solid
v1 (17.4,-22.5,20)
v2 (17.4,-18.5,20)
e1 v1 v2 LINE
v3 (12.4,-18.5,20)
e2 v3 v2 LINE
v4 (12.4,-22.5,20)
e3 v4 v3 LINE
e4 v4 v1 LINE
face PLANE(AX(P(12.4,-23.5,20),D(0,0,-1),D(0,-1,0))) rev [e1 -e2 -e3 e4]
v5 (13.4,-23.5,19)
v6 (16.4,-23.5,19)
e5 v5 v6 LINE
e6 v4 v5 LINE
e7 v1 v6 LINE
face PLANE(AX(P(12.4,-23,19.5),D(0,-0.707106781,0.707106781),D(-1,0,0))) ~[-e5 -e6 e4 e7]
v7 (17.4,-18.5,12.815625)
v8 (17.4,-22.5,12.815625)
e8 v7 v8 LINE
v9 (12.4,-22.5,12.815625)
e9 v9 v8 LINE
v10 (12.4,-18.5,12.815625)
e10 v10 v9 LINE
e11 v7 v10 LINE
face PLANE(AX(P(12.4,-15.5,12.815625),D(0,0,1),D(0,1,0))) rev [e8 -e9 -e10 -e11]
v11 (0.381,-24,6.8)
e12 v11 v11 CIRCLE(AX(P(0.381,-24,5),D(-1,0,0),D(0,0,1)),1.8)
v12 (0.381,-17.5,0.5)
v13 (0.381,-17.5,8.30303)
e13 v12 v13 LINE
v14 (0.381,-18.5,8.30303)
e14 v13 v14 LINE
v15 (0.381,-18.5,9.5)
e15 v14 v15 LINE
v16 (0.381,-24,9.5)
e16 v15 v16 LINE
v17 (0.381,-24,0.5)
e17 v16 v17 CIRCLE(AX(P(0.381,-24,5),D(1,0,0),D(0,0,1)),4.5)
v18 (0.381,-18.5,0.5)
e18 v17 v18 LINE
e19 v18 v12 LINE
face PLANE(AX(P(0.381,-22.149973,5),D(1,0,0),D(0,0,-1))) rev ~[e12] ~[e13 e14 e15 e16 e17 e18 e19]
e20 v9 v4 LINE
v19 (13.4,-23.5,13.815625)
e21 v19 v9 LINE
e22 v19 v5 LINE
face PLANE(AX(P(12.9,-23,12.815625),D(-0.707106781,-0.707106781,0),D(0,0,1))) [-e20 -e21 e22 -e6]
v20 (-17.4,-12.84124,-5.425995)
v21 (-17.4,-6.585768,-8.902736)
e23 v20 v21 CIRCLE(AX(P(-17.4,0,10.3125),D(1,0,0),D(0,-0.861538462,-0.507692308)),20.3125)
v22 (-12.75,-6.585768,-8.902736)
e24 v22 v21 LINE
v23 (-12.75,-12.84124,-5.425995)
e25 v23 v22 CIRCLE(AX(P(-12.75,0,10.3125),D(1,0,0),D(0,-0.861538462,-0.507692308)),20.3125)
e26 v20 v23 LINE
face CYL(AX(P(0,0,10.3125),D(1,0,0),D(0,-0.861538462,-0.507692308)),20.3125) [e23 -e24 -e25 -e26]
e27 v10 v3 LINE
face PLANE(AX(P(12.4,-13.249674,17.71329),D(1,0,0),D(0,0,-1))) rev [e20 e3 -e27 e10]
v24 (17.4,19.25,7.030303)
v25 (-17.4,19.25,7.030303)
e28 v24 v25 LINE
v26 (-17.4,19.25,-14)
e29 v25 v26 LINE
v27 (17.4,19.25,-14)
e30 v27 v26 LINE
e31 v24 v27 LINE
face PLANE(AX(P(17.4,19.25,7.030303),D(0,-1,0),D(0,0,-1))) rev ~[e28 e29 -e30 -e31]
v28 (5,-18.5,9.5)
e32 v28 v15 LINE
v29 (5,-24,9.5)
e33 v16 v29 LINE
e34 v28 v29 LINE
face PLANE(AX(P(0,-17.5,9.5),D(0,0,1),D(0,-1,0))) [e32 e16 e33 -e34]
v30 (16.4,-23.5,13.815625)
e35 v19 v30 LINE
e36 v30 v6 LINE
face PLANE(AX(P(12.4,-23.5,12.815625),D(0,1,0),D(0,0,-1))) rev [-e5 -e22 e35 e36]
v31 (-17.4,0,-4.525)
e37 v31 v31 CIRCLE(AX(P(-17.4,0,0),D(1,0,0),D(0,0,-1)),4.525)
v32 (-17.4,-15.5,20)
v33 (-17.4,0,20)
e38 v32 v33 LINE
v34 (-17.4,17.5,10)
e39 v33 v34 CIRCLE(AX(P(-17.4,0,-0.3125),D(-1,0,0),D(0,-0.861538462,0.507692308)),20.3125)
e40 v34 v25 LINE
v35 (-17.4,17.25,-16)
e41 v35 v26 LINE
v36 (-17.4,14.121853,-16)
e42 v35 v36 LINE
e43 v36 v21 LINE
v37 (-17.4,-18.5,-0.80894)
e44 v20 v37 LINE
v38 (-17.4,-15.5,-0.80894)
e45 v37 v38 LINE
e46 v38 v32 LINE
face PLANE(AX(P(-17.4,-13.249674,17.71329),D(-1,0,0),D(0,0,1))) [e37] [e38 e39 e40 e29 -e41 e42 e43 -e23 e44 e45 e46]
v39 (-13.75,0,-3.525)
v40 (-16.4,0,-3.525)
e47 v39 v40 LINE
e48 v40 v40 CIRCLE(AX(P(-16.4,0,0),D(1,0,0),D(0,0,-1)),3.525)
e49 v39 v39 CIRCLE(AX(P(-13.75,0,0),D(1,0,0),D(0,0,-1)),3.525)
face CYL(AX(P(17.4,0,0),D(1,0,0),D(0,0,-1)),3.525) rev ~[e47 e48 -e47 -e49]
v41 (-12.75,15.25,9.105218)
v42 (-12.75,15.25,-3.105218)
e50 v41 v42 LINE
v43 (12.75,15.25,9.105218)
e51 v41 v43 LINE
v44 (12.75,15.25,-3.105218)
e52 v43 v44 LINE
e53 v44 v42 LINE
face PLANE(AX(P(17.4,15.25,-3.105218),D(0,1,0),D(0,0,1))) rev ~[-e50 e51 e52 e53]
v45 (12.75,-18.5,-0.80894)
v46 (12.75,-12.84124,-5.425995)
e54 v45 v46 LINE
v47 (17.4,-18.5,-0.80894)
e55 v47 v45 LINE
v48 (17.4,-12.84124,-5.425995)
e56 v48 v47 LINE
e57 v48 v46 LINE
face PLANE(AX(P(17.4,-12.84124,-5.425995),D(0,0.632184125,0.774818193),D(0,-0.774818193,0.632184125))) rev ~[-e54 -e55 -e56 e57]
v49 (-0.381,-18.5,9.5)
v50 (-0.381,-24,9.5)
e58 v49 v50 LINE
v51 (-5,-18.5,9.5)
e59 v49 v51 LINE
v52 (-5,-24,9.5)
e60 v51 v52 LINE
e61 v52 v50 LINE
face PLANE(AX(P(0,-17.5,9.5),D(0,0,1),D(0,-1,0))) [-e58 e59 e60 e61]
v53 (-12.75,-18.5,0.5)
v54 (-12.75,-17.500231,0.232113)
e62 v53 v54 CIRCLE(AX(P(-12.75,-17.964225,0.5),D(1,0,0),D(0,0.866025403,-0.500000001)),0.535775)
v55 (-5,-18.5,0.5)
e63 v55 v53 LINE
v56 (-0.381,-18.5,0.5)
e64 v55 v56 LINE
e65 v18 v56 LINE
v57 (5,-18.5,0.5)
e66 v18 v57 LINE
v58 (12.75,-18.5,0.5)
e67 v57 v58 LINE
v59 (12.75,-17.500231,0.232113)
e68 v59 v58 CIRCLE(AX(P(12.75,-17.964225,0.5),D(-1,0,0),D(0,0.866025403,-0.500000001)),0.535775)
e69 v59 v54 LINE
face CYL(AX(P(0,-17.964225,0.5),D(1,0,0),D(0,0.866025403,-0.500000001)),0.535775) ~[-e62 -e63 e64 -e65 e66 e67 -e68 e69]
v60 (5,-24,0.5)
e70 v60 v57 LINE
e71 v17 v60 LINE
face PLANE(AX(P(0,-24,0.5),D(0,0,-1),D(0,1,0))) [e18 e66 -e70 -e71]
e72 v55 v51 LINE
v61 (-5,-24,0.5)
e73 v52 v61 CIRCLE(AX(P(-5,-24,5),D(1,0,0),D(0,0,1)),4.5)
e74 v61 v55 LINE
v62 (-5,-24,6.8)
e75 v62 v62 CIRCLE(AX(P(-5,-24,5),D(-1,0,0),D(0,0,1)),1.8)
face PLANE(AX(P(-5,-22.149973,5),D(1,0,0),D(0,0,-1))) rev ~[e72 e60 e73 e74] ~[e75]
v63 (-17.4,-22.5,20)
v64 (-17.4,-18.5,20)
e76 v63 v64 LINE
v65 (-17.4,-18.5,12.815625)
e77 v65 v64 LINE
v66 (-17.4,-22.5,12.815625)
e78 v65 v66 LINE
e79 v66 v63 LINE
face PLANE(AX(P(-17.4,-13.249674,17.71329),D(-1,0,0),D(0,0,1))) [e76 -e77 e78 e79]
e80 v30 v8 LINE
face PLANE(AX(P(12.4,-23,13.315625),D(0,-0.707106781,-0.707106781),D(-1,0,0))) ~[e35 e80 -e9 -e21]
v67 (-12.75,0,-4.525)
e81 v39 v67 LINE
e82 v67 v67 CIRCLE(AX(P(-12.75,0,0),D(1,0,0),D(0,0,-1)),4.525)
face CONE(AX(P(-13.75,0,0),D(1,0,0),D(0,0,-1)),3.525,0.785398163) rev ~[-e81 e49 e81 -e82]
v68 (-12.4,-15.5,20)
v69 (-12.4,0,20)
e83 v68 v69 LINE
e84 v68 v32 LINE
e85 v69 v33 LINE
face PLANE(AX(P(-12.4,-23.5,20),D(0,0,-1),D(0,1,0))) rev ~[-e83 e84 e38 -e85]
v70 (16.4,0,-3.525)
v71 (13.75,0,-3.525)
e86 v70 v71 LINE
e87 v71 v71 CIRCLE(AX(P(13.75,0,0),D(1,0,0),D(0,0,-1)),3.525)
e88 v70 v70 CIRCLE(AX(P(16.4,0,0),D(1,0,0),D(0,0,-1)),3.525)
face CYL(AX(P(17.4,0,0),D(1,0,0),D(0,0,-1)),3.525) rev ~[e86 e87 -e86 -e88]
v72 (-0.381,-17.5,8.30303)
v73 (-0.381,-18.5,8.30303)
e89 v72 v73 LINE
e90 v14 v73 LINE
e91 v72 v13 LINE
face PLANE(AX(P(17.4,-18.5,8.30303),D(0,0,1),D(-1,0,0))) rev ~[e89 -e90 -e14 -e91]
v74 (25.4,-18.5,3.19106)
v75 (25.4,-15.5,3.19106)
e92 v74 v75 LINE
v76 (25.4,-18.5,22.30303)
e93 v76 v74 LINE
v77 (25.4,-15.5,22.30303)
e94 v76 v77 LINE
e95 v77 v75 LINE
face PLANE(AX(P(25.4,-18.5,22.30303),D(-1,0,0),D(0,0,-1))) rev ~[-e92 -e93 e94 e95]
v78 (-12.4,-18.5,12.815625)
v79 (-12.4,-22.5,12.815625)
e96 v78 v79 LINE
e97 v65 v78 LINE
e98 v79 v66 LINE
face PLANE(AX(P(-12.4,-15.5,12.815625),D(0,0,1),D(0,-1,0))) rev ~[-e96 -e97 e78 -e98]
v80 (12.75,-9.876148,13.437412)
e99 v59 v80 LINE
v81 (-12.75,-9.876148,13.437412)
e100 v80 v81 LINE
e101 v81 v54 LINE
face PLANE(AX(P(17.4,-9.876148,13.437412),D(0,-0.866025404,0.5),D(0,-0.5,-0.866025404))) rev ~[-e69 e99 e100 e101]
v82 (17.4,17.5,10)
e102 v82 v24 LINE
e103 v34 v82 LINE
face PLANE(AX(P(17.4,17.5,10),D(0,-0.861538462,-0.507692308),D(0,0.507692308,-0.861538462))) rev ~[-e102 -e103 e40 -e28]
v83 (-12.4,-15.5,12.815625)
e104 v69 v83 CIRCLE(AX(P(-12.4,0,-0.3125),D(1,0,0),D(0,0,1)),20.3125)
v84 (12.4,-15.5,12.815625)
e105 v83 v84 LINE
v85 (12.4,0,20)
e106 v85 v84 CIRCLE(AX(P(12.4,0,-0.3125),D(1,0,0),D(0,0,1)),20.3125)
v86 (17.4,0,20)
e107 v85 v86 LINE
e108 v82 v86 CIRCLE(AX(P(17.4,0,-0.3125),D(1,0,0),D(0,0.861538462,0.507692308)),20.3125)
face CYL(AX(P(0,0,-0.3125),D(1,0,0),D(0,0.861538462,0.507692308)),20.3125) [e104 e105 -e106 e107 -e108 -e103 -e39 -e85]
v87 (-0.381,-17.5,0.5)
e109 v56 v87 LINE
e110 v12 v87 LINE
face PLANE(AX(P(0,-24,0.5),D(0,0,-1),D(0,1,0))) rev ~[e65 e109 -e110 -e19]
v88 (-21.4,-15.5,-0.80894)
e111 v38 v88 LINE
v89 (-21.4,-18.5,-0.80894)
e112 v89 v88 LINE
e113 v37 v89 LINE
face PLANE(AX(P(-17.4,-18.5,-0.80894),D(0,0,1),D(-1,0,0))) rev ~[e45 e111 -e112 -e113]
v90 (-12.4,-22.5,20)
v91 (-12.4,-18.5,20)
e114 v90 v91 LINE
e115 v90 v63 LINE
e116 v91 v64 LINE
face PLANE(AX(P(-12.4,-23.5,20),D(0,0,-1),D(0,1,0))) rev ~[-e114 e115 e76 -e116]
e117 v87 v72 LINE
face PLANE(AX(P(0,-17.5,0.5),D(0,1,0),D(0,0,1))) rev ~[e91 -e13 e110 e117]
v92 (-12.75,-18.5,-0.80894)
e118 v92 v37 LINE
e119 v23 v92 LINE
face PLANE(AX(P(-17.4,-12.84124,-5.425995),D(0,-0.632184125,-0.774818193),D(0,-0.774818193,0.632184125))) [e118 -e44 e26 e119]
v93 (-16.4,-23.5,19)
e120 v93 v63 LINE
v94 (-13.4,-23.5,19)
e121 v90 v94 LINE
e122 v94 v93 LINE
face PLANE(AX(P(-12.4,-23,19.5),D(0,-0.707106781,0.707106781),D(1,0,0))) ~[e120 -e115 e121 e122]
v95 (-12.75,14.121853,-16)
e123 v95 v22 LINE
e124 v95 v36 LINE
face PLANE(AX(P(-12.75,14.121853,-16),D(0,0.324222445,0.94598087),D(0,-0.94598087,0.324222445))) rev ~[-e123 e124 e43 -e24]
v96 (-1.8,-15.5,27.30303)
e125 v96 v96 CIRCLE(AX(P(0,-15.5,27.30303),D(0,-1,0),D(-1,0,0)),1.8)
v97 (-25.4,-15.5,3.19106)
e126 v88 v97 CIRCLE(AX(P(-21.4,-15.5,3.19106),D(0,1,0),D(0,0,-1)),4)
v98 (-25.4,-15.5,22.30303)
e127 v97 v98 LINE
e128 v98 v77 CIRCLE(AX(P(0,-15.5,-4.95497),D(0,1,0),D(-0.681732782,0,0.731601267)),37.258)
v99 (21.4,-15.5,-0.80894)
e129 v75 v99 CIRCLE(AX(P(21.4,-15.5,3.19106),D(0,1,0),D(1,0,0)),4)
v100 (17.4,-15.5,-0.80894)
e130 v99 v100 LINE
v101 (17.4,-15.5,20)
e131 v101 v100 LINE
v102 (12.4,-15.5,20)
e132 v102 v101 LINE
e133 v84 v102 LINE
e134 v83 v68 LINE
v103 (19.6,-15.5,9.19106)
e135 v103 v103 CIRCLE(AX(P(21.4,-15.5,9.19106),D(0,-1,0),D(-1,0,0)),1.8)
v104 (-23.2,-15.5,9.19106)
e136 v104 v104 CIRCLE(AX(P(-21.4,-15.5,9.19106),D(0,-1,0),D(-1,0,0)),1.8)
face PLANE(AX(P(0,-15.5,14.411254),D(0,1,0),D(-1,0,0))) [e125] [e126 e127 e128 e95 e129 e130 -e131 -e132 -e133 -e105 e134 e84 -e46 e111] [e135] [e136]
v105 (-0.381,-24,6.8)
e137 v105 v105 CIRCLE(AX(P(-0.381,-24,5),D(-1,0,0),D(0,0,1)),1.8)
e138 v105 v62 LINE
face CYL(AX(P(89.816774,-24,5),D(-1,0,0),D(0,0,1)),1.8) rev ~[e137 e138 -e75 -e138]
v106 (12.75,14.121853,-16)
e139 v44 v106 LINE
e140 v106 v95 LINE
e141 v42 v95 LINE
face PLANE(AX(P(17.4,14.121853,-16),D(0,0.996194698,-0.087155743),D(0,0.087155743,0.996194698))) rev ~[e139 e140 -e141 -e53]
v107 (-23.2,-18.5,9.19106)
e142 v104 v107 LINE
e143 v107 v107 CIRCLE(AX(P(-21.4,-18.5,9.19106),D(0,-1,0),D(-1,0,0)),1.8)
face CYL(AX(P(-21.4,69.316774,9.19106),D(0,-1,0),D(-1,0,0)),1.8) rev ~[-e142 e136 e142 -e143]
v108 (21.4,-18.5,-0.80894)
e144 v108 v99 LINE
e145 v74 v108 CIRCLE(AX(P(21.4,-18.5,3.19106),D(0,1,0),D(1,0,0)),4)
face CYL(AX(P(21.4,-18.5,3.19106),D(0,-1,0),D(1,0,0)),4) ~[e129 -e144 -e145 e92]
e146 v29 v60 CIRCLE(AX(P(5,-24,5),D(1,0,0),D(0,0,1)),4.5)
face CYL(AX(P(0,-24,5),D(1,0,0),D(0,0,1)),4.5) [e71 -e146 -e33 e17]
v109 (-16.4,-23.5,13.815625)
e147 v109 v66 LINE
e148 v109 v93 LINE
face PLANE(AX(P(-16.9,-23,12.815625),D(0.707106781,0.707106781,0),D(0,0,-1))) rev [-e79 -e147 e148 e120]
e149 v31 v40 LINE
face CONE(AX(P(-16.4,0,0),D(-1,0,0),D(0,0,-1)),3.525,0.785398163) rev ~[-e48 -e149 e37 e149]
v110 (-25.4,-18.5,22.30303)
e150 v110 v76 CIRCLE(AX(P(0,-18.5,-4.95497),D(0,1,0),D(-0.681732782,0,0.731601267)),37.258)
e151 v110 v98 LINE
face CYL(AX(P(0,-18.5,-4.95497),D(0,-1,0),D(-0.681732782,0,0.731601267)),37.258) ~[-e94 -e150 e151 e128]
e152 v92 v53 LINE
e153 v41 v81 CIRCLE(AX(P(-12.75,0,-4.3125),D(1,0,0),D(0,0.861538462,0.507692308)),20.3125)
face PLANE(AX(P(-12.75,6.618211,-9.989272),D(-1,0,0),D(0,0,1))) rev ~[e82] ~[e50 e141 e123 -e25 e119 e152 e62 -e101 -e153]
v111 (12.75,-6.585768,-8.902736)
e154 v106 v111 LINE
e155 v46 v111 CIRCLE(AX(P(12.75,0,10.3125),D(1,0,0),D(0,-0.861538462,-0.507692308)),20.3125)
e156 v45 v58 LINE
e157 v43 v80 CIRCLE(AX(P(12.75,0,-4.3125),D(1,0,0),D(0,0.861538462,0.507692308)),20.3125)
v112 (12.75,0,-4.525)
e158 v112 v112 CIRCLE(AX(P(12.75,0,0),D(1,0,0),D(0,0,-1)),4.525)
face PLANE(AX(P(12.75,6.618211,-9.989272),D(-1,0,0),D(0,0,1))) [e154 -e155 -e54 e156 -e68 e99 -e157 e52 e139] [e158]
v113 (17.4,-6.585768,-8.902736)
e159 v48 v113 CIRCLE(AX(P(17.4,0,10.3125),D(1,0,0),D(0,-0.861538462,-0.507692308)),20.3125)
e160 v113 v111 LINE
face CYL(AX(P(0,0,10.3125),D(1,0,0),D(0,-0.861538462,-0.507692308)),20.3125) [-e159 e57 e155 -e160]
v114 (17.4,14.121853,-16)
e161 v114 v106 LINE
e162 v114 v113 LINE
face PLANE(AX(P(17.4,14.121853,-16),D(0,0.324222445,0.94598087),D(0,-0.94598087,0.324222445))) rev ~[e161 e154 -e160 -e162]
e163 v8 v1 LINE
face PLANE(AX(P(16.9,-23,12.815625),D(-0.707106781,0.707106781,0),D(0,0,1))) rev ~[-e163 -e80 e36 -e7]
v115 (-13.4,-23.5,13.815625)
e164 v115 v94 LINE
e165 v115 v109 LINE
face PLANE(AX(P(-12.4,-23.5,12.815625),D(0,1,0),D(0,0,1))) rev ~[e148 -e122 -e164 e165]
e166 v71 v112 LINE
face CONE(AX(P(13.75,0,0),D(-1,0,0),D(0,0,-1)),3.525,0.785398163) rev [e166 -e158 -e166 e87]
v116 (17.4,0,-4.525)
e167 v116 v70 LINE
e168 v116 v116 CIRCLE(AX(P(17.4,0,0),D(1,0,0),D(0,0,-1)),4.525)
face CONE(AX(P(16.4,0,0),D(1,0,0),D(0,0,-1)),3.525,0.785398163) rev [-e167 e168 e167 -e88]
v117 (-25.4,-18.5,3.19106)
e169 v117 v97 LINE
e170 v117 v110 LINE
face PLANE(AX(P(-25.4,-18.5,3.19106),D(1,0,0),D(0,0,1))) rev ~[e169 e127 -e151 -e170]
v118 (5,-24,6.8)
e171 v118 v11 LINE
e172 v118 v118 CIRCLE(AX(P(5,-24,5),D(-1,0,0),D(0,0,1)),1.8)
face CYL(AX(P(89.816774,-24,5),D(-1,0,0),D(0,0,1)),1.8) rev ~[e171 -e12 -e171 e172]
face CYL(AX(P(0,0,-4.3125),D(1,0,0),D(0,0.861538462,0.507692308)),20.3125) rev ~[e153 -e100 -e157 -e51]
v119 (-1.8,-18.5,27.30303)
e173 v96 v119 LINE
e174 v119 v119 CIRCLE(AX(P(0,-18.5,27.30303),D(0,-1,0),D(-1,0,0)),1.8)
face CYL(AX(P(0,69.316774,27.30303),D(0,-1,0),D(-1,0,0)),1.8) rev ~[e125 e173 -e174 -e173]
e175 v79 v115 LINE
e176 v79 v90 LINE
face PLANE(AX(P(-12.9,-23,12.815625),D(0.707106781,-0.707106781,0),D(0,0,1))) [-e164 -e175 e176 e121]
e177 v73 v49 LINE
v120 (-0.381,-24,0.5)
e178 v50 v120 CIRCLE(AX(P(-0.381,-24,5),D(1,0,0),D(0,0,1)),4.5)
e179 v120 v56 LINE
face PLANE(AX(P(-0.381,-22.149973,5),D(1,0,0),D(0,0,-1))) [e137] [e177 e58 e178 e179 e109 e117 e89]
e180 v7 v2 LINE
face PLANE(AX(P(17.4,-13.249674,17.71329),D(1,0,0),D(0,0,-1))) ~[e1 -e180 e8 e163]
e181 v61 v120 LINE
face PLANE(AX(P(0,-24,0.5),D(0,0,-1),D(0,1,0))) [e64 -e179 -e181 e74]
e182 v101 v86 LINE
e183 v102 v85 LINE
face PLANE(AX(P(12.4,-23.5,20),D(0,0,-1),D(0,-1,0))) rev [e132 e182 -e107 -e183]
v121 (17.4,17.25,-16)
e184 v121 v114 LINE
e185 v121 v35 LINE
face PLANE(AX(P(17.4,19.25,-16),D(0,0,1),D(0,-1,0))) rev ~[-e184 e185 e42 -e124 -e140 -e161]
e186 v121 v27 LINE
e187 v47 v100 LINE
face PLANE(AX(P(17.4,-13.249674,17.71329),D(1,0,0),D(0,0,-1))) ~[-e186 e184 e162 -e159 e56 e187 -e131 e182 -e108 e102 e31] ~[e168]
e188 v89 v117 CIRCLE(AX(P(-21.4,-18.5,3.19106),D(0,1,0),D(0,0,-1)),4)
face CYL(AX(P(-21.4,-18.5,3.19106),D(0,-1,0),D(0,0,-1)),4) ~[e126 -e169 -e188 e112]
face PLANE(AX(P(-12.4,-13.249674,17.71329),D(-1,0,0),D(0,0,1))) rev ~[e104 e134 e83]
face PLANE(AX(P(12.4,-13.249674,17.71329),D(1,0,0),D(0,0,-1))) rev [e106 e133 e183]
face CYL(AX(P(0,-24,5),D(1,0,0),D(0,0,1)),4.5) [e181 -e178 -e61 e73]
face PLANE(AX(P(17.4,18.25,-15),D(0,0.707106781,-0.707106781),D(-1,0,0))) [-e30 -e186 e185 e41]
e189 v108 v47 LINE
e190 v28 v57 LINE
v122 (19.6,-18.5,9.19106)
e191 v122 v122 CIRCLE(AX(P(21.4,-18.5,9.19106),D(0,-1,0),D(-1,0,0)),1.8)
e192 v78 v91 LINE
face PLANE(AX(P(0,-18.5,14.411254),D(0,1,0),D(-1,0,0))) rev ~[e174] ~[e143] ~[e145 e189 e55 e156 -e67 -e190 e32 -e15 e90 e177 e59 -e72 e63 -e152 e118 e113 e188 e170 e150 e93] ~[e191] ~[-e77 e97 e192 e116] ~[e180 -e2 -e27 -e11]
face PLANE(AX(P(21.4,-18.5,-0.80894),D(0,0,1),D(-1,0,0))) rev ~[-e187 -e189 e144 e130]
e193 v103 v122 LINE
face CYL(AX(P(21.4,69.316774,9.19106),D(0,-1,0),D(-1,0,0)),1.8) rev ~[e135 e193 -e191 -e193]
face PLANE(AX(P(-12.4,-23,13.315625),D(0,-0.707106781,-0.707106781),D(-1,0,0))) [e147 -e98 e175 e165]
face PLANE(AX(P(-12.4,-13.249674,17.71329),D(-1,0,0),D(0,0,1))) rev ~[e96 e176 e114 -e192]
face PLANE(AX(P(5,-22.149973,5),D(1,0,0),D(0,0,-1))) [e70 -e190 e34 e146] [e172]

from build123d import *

# Parameters (mm, degrees)
BOSS_EXTRUDE1_DEPTH            = 17.4
CUT_EXTRUDE1_DEPTH             = 12.75
BOSS_EXTRUDE2_DEPTH            = 5
BOSS_EXTRUDE3_REACH            = 51.227
BOSS_EXTRUDE4_DEPTH            = 4.65
BOSS_EXTRUDE5_DEPTH            = 4.65
BOSS_EXTRUDE6_REACH            = 51.227
BOSS_EXTRUDE7_DEPTH            = 4.65
BOSS_EXTRUDE8_START            = -4.65
BOSS_EXTRUDE8_DEPTH            = 4.65
CHAMFER2_SIZE                  = 2
SKETCH10_R                     = 3.525
CUT_EXTRUDE2_DEPTH             = 50.226923528
CUT_EXTRUDE3_DEPTH             = 0.381
BOSS_EXTRUDE9_DEPTH            = 3
BOSS_EXTRUDE10_START           = -5
BOSS_EXTRUDE10_DEPTH           = 5
M3_CLEARANCE_HOLE1_D           = 3.6
M3_CLEARANCE_HOLE2_D           = 3.6
CHAMFER5_SIZE                  = 1
CUT_EXTRUDE4_REACH             = 52.009
CUT_EXTRUDE4_DIRECTION_2_REACH = 52.009
CHAMFER6_SIZE                  = 1


with BuildPart() as part:
    # Sketch1 → Boss-Extrude1 (new, symmetric)
    with BuildSketch(Plane(origin=(0, 0, 0), x_dir=(0, 0, -1), z_dir=(1, 0, 0))):
        with BuildLine():
            Line((0, 17.5), (-10, 17.5))
            ThreePointArc((-10, 17.5), (-20, 0), (-10, -17.5))
            Line((-10, -17.5), (0, -17.5))
            ThreePointArc((0, -17.5), (10, 0), (0, 17.5))
        make_face()
    extrude(amount=BOSS_EXTRUDE1_DEPTH, both=True)

    # Sketch2 → Cut-Extrude1 (cut, symmetric)
    with BuildSketch(Plane(origin=(0, 0, 0), x_dir=(0, 0, -1), z_dir=(1, 0, 0))):
        with BuildLine():
            Line((-6, -17.5), (0, -17.5))
            ThreePointArc((0, -17.5), (10, 0), (0, 17.5))
            Line((0, 17.5), (-6, 17.5))
            ThreePointArc((-6, 17.5), (-16, 0), (-6, -17.5))
        make_face()
    extrude(amount=CUT_EXTRUDE1_DEPTH, both=True, mode=Mode.SUBTRACT)

    # Sketch3 → Boss-Extrude2 (add, symmetric)
    with BuildSketch(Plane(origin=(0, 0, 0), x_dir=(0, 0, -1), z_dir=(1, 0, 0))):
        with BuildLine():
            Line((-9.5, -17.5), (-9.5, -24))
            ThreePointArc((-9.5, -24), (-5, -28.5), (-0.5, -24))
            Line((-0.5, -24), (-0.5, -17.5))
            Line((-0.5, -17.5), (-9.5, -17.5))
        make_face()
    extrude(amount=BOSS_EXTRUDE2_DEPTH, both=True)

    # Boss-Extrude3: up to this face of the body (flat: up to its plane)
    boss_extrude3_end = Plane(part.part.faces().sort_by_distance((-17.4, 0, 5))[0])
    # Sketch4 → Boss-Extrude3 (add, up to the picked face)
    with BuildSketch(Plane(origin=(17.4, 0, 0), x_dir=(0, 0, -1), z_dir=(1, 0, 0)), mode=Mode.PRIVATE) as boss_extrude3_sk1:
        with BuildLine():
            Line((-13.437411512, -9.876147912), (0.981589269, -18.200961894))
            Line((0.981589269, -18.200961894), (0.808939539, -18.5))
            Line((0.808939539, -18.5), (-8.303030303, -18.5))
            Line((-8.303030303, -18.5), (-10, -17.5))
            ThreePointArc((-10, -17.5), (-14.227290753, -14.184221555), (-17.437411512, -9.876147912))
            Line((-17.437411512, -9.876147912), (-13.437411512, -9.876147912))
        make_face()
    boss_extrude3_tool1 = split(extrude(boss_extrude3_sk1.sketch, amount=-BOSS_EXTRUDE3_REACH, mode=Mode.PRIVATE), bisect_by=boss_extrude3_end, keep=Keep.BOTH, mode=Mode.PRIVATE)
    add(boss_extrude3_tool1.solids().sort_by(Axis((17.4, -14.739023, 9.130288), (-1, 0, 0)))[0])

    # Sketch5 → Boss-Extrude4 (add)
    with BuildSketch(Plane(origin=(17.4, 0, 0), x_dir=(0, 0, -1), z_dir=(1, 0, 0))):
        Polygon((5.425994541, -12.841240042), (0.808939539, -18.5), (-1.191060461, -18.5), (-1.191060461, -17.5), align=None)
    extrude(amount=-BOSS_EXTRUDE4_DEPTH)

    # Sketch6 → Boss-Extrude5 (add)
    with BuildSketch(Plane.ZY.offset(17.4)):
        Polygon((-5.425994541, -12.841240042), (-0.808939539, -18.5), (1.191060461, -18.5), (1.191060461, -17.5), align=None)
    extrude(amount=-BOSS_EXTRUDE5_DEPTH)

    # Boss-Extrude6: up to this face of the body (flat: up to its plane)
    boss_extrude6_end = Plane(part.part.faces().sort_by_distance((-17.4, -0.260518526, 4.968984896))[0])
    # Sketch7 → Boss-Extrude6 (add, up to the picked face)
    with BuildSketch(Plane(origin=(17.4, 0, 0), x_dir=(0, 0, -1), z_dir=(1, 0, 0)), mode=Mode.PRIVATE) as boss_extrude6_sk1:
        with BuildLine():
            Line((-10, 17.5), (-7.03030303, 19.25))
            Line((-7.03030303, 19.25), (16, 19.25))
            Line((16, 19.25), (16, 14.121852756))
            Line((16, 14.121852756), (3.105217997, 15.25))
            Line((3.105217997, 15.25), (-13.105217997, 15.25))
            ThreePointArc((-13.105217997, 15.25), (-11.605823563, 16.448441254), (-10, 17.5))
        make_face()
    boss_extrude6_tool1 = split(extrude(boss_extrude6_sk1.sketch, amount=-BOSS_EXTRUDE6_REACH, mode=Mode.PRIVATE), bisect_by=boss_extrude6_end, keep=Keep.BOTH, mode=Mode.PRIVATE)
    add(boss_extrude6_tool1.solids().sort_by(Axis((17.4, 17.022897, -3.374472), (-1, 0, 0)))[0])

    # Sketch8 → Boss-Extrude7 (add)
    with BuildSketch(Plane(origin=(17.4, 0, 0), x_dir=(0, 0, -1), z_dir=(1, 0, 0))):
        with BuildLine():
            Line((16, 14.121852756), (8.902736416, -6.585768423))
            ThreePointArc((8.902736416, -6.585768423), (9.319810717, 5.212488097), (3.105217997, 15.25))
            Line((3.105217997, 15.25), (16, 14.121852756))
        make_face()
    extrude(amount=-BOSS_EXTRUDE7_DEPTH)

    # Sketch9 → Boss-Extrude8 (add)
    with BuildSketch(Plane.ZY.offset(17.4).offset(BOSS_EXTRUDE8_START)):
        with BuildLine():
            Line((-16, 14.121852756), (-8.902736416, -6.585768423))
            ThreePointArc((-8.902736416, -6.585768423), (-9.319810717, 5.212488097), (-3.105217997, 15.25))
            Line((-3.105217997, 15.25), (-16, 14.121852756))
        make_face()
    extrude(amount=BOSS_EXTRUDE8_DEPTH)

    # Chamfer2
    chamfer2_edges = [part.edges().sort_by_distance(p)[0] for p in [
        (0, 19.25, -16),
    ]]
    chamfer(chamfer2_edges, length=CHAMFER2_SIZE)

    # Sketch10 → Cut-Extrude2 (cut, through all)
    with BuildSketch(Plane(origin=(17.4, 0, 0), x_dir=(0, 0, -1), z_dir=(1, 0, 0))):
        Circle(SKETCH10_R)
    extrude(amount=-CUT_EXTRUDE2_DEPTH, mode=Mode.SUBTRACT)

    # Sketch11 → Cut-Extrude3 (cut, symmetric)
    with BuildSketch(Plane(origin=(0, 0, 0), x_dir=(0, 0, -1), z_dir=(1, 0, 0))):
        with BuildLine():
            Line((-9.5, -17.5), (-9.5, -24))
            ThreePointArc((-9.5, -24), (-5, -28.5), (-0.5, -24))
            Line((-0.5, -24), (-0.5, -17.5))
            Line((-0.5, -17.5), (-9.5, -17.5))
        make_face()
    extrude(amount=CUT_EXTRUDE3_DEPTH, both=True, mode=Mode.SUBTRACT)

    # Sketch12 → Boss-Extrude9 (add)
    with BuildSketch(Plane.XZ.offset(18.5)):
        with BuildLine():
            Line((-17.4, -0.808939539), (-21.4, -0.808939539))
            ThreePointArc((-21.4, -0.808939539), (-24.228427125, 0.362633337), (-25.4, 3.191060461))
            Line((-25.4, 3.191060461), (-25.4, 22.303030303))
            ThreePointArc((-25.4, 22.303030303), (0, 32.303030303), (25.4, 22.303030303))
            Line((25.4, 22.303030303), (25.4, 3.191060461))
            ThreePointArc((25.4, 3.191060461), (24.228427125, 0.362633337), (21.4, -0.808939539))
            Line((21.4, -0.808939539), (17.4, -0.808939539))
            Line((17.4, -0.808939539), (17.4, 8.303030303))
            Line((17.4, 8.303030303), (-17.4, 8.303030303))
            Line((-17.4, 8.303030303), (-17.4, -0.808939539))
        make_face()
    extrude(amount=-BOSS_EXTRUDE9_DEPTH)

    # Sketch13 → Boss-Extrude10 (add)
    with BuildSketch(Plane.ZY.offset(17.4).offset(BOSS_EXTRUDE10_START)):
        with BuildLine():
            Line((20, -15.5), (20, 0))
            ThreePointArc((20, 0), (18.116589611, -8.542032098), (12.815624628, -15.5))
            Line((12.815624628, -15.5), (12.815624628, -23.5))
            Line((12.815624628, -23.5), (20, -23.5))
            Line((20, -23.5), (20, -15.5))
        make_face()
    boss_extrude10 = extrude(amount=BOSS_EXTRUDE10_DEPTH)

    # Mirror1: Boss-Extrude10 across plane
    add(boss_extrude10.mirror(Plane(origin=(0, 0, 0), x_dir=(0, 0, 1), z_dir=(1, 0, 0))))

    # M3 Clearance Hole1 (through all)
    with Locations(Plane(origin=(0, -15.5, 0), x_dir=(1, 0, 0), z_dir=(0, 1, 0))):
        with Locations((0, -27.303030303), (-21.4, -9.191060461), (21.4, -9.191060461)):
            Hole(M3_CLEARANCE_HOLE1_D / 2)

    # M3 Clearance Hole2 (through all)
    with Locations(Plane(origin=(5, 0, 0), x_dir=(0, 0, -1), z_dir=(1, 0, 0))):
        with Locations((-5, -24)):
            Hole(M3_CLEARANCE_HOLE2_D / 2)

    # Chamfer5
    chamfer5_edges = [part.edges().sort_by_distance(p)[0] for p in [
        (12.75, 0, 3.525),
        (-12.75, 0, 3.525),
        (-17.4, 0, 3.525),
        (17.4, 0, 3.525),
    ]]
    chamfer(chamfer5_edges, length=CHAMFER5_SIZE)

    # Cut-Extrude4: up to this face of the body (flat: up to its plane)
    cut_extrude4_end = Plane(part.part.faces().sort_by_distance((-12.75, 0, 4.990087357))[0])
    # Sketch18 → Cut-Extrude4 (cut, up to the picked face)
    with BuildSketch(Plane(origin=(0, 0, 0), x_dir=(0, 0, -1), z_dir=(1, 0, 0)), mode=Mode.PRIVATE) as cut_extrude4_sk1:
        with BuildLine():
            Line((-0.5, -18.5), (1.499538462, -18.5))
            Line((1.499538462, -18.5), (-0.232112642, -17.500230769))
            ThreePointArc((-0.232112642, -17.500230769), (0.017518635, -18.102893984), (-0.5, -18.5))
        make_face()
    cut_extrude4_tool1 = split(extrude(cut_extrude4_sk1.sketch, amount=-CUT_EXTRUDE4_REACH, mode=Mode.PRIVATE), bisect_by=cut_extrude4_end, keep=Keep.BOTH, mode=Mode.PRIVATE)
    add(cut_extrude4_tool1.solids().sort_by(Axis((0, -18.22087, -0.457813), (-1, 0, 0)))[0], mode=Mode.SUBTRACT)

    # Cut-Extrude4 direction 2: up to this face of the body (flat: up to its plane)
    cut_extrude4_direction_2_end = Plane(part.part.faces().sort_by_distance((12.75, 0, 4.990087357))[0])
    # Sketch18 → Cut-Extrude4 direction 2 (cut, up to the picked face)
    with BuildSketch(Plane(origin=(0, 0, 0), x_dir=(0, 0, -1), z_dir=(1, 0, 0)), mode=Mode.PRIVATE) as cut_extrude4_direction_2_sk1:
        with BuildLine():
            Line((-0.5, -18.5), (1.499538462, -18.5))
            Line((1.499538462, -18.5), (-0.232112642, -17.500230769))
            ThreePointArc((-0.232112642, -17.500230769), (0.017518635, -18.102893984), (-0.5, -18.5))
        make_face()
    cut_extrude4_direction_2_tool1 = split(extrude(cut_extrude4_direction_2_sk1.sketch, amount=CUT_EXTRUDE4_DIRECTION_2_REACH, mode=Mode.PRIVATE), bisect_by=cut_extrude4_direction_2_end, keep=Keep.BOTH, mode=Mode.PRIVATE)
    add(cut_extrude4_direction_2_tool1.solids().sort_by(Axis((0, -18.22087, -0.457813), (1, 0, 0)))[0], mode=Mode.SUBTRACT)

    # Chamfer6
    chamfer6_edges = [part.edges().sort_by_distance(p)[0] for p in [
        (-17.4, -23.5, 16.407812314),
        (-12.4, -23.5, 16.407812314),
        (-14.9, -23.5, 20),
        (-14.9, -23.5, 12.815624628),
        (14.9, -23.5, 20),
        (12.4, -23.5, 16.407812314),
        (17.4, -23.5, 16.407812314),
        (14.9, -23.5, 12.815624628),
    ]]
    chamfer(chamfer6_edges, length=CHAMFER6_SIZE)


solid = part.part
